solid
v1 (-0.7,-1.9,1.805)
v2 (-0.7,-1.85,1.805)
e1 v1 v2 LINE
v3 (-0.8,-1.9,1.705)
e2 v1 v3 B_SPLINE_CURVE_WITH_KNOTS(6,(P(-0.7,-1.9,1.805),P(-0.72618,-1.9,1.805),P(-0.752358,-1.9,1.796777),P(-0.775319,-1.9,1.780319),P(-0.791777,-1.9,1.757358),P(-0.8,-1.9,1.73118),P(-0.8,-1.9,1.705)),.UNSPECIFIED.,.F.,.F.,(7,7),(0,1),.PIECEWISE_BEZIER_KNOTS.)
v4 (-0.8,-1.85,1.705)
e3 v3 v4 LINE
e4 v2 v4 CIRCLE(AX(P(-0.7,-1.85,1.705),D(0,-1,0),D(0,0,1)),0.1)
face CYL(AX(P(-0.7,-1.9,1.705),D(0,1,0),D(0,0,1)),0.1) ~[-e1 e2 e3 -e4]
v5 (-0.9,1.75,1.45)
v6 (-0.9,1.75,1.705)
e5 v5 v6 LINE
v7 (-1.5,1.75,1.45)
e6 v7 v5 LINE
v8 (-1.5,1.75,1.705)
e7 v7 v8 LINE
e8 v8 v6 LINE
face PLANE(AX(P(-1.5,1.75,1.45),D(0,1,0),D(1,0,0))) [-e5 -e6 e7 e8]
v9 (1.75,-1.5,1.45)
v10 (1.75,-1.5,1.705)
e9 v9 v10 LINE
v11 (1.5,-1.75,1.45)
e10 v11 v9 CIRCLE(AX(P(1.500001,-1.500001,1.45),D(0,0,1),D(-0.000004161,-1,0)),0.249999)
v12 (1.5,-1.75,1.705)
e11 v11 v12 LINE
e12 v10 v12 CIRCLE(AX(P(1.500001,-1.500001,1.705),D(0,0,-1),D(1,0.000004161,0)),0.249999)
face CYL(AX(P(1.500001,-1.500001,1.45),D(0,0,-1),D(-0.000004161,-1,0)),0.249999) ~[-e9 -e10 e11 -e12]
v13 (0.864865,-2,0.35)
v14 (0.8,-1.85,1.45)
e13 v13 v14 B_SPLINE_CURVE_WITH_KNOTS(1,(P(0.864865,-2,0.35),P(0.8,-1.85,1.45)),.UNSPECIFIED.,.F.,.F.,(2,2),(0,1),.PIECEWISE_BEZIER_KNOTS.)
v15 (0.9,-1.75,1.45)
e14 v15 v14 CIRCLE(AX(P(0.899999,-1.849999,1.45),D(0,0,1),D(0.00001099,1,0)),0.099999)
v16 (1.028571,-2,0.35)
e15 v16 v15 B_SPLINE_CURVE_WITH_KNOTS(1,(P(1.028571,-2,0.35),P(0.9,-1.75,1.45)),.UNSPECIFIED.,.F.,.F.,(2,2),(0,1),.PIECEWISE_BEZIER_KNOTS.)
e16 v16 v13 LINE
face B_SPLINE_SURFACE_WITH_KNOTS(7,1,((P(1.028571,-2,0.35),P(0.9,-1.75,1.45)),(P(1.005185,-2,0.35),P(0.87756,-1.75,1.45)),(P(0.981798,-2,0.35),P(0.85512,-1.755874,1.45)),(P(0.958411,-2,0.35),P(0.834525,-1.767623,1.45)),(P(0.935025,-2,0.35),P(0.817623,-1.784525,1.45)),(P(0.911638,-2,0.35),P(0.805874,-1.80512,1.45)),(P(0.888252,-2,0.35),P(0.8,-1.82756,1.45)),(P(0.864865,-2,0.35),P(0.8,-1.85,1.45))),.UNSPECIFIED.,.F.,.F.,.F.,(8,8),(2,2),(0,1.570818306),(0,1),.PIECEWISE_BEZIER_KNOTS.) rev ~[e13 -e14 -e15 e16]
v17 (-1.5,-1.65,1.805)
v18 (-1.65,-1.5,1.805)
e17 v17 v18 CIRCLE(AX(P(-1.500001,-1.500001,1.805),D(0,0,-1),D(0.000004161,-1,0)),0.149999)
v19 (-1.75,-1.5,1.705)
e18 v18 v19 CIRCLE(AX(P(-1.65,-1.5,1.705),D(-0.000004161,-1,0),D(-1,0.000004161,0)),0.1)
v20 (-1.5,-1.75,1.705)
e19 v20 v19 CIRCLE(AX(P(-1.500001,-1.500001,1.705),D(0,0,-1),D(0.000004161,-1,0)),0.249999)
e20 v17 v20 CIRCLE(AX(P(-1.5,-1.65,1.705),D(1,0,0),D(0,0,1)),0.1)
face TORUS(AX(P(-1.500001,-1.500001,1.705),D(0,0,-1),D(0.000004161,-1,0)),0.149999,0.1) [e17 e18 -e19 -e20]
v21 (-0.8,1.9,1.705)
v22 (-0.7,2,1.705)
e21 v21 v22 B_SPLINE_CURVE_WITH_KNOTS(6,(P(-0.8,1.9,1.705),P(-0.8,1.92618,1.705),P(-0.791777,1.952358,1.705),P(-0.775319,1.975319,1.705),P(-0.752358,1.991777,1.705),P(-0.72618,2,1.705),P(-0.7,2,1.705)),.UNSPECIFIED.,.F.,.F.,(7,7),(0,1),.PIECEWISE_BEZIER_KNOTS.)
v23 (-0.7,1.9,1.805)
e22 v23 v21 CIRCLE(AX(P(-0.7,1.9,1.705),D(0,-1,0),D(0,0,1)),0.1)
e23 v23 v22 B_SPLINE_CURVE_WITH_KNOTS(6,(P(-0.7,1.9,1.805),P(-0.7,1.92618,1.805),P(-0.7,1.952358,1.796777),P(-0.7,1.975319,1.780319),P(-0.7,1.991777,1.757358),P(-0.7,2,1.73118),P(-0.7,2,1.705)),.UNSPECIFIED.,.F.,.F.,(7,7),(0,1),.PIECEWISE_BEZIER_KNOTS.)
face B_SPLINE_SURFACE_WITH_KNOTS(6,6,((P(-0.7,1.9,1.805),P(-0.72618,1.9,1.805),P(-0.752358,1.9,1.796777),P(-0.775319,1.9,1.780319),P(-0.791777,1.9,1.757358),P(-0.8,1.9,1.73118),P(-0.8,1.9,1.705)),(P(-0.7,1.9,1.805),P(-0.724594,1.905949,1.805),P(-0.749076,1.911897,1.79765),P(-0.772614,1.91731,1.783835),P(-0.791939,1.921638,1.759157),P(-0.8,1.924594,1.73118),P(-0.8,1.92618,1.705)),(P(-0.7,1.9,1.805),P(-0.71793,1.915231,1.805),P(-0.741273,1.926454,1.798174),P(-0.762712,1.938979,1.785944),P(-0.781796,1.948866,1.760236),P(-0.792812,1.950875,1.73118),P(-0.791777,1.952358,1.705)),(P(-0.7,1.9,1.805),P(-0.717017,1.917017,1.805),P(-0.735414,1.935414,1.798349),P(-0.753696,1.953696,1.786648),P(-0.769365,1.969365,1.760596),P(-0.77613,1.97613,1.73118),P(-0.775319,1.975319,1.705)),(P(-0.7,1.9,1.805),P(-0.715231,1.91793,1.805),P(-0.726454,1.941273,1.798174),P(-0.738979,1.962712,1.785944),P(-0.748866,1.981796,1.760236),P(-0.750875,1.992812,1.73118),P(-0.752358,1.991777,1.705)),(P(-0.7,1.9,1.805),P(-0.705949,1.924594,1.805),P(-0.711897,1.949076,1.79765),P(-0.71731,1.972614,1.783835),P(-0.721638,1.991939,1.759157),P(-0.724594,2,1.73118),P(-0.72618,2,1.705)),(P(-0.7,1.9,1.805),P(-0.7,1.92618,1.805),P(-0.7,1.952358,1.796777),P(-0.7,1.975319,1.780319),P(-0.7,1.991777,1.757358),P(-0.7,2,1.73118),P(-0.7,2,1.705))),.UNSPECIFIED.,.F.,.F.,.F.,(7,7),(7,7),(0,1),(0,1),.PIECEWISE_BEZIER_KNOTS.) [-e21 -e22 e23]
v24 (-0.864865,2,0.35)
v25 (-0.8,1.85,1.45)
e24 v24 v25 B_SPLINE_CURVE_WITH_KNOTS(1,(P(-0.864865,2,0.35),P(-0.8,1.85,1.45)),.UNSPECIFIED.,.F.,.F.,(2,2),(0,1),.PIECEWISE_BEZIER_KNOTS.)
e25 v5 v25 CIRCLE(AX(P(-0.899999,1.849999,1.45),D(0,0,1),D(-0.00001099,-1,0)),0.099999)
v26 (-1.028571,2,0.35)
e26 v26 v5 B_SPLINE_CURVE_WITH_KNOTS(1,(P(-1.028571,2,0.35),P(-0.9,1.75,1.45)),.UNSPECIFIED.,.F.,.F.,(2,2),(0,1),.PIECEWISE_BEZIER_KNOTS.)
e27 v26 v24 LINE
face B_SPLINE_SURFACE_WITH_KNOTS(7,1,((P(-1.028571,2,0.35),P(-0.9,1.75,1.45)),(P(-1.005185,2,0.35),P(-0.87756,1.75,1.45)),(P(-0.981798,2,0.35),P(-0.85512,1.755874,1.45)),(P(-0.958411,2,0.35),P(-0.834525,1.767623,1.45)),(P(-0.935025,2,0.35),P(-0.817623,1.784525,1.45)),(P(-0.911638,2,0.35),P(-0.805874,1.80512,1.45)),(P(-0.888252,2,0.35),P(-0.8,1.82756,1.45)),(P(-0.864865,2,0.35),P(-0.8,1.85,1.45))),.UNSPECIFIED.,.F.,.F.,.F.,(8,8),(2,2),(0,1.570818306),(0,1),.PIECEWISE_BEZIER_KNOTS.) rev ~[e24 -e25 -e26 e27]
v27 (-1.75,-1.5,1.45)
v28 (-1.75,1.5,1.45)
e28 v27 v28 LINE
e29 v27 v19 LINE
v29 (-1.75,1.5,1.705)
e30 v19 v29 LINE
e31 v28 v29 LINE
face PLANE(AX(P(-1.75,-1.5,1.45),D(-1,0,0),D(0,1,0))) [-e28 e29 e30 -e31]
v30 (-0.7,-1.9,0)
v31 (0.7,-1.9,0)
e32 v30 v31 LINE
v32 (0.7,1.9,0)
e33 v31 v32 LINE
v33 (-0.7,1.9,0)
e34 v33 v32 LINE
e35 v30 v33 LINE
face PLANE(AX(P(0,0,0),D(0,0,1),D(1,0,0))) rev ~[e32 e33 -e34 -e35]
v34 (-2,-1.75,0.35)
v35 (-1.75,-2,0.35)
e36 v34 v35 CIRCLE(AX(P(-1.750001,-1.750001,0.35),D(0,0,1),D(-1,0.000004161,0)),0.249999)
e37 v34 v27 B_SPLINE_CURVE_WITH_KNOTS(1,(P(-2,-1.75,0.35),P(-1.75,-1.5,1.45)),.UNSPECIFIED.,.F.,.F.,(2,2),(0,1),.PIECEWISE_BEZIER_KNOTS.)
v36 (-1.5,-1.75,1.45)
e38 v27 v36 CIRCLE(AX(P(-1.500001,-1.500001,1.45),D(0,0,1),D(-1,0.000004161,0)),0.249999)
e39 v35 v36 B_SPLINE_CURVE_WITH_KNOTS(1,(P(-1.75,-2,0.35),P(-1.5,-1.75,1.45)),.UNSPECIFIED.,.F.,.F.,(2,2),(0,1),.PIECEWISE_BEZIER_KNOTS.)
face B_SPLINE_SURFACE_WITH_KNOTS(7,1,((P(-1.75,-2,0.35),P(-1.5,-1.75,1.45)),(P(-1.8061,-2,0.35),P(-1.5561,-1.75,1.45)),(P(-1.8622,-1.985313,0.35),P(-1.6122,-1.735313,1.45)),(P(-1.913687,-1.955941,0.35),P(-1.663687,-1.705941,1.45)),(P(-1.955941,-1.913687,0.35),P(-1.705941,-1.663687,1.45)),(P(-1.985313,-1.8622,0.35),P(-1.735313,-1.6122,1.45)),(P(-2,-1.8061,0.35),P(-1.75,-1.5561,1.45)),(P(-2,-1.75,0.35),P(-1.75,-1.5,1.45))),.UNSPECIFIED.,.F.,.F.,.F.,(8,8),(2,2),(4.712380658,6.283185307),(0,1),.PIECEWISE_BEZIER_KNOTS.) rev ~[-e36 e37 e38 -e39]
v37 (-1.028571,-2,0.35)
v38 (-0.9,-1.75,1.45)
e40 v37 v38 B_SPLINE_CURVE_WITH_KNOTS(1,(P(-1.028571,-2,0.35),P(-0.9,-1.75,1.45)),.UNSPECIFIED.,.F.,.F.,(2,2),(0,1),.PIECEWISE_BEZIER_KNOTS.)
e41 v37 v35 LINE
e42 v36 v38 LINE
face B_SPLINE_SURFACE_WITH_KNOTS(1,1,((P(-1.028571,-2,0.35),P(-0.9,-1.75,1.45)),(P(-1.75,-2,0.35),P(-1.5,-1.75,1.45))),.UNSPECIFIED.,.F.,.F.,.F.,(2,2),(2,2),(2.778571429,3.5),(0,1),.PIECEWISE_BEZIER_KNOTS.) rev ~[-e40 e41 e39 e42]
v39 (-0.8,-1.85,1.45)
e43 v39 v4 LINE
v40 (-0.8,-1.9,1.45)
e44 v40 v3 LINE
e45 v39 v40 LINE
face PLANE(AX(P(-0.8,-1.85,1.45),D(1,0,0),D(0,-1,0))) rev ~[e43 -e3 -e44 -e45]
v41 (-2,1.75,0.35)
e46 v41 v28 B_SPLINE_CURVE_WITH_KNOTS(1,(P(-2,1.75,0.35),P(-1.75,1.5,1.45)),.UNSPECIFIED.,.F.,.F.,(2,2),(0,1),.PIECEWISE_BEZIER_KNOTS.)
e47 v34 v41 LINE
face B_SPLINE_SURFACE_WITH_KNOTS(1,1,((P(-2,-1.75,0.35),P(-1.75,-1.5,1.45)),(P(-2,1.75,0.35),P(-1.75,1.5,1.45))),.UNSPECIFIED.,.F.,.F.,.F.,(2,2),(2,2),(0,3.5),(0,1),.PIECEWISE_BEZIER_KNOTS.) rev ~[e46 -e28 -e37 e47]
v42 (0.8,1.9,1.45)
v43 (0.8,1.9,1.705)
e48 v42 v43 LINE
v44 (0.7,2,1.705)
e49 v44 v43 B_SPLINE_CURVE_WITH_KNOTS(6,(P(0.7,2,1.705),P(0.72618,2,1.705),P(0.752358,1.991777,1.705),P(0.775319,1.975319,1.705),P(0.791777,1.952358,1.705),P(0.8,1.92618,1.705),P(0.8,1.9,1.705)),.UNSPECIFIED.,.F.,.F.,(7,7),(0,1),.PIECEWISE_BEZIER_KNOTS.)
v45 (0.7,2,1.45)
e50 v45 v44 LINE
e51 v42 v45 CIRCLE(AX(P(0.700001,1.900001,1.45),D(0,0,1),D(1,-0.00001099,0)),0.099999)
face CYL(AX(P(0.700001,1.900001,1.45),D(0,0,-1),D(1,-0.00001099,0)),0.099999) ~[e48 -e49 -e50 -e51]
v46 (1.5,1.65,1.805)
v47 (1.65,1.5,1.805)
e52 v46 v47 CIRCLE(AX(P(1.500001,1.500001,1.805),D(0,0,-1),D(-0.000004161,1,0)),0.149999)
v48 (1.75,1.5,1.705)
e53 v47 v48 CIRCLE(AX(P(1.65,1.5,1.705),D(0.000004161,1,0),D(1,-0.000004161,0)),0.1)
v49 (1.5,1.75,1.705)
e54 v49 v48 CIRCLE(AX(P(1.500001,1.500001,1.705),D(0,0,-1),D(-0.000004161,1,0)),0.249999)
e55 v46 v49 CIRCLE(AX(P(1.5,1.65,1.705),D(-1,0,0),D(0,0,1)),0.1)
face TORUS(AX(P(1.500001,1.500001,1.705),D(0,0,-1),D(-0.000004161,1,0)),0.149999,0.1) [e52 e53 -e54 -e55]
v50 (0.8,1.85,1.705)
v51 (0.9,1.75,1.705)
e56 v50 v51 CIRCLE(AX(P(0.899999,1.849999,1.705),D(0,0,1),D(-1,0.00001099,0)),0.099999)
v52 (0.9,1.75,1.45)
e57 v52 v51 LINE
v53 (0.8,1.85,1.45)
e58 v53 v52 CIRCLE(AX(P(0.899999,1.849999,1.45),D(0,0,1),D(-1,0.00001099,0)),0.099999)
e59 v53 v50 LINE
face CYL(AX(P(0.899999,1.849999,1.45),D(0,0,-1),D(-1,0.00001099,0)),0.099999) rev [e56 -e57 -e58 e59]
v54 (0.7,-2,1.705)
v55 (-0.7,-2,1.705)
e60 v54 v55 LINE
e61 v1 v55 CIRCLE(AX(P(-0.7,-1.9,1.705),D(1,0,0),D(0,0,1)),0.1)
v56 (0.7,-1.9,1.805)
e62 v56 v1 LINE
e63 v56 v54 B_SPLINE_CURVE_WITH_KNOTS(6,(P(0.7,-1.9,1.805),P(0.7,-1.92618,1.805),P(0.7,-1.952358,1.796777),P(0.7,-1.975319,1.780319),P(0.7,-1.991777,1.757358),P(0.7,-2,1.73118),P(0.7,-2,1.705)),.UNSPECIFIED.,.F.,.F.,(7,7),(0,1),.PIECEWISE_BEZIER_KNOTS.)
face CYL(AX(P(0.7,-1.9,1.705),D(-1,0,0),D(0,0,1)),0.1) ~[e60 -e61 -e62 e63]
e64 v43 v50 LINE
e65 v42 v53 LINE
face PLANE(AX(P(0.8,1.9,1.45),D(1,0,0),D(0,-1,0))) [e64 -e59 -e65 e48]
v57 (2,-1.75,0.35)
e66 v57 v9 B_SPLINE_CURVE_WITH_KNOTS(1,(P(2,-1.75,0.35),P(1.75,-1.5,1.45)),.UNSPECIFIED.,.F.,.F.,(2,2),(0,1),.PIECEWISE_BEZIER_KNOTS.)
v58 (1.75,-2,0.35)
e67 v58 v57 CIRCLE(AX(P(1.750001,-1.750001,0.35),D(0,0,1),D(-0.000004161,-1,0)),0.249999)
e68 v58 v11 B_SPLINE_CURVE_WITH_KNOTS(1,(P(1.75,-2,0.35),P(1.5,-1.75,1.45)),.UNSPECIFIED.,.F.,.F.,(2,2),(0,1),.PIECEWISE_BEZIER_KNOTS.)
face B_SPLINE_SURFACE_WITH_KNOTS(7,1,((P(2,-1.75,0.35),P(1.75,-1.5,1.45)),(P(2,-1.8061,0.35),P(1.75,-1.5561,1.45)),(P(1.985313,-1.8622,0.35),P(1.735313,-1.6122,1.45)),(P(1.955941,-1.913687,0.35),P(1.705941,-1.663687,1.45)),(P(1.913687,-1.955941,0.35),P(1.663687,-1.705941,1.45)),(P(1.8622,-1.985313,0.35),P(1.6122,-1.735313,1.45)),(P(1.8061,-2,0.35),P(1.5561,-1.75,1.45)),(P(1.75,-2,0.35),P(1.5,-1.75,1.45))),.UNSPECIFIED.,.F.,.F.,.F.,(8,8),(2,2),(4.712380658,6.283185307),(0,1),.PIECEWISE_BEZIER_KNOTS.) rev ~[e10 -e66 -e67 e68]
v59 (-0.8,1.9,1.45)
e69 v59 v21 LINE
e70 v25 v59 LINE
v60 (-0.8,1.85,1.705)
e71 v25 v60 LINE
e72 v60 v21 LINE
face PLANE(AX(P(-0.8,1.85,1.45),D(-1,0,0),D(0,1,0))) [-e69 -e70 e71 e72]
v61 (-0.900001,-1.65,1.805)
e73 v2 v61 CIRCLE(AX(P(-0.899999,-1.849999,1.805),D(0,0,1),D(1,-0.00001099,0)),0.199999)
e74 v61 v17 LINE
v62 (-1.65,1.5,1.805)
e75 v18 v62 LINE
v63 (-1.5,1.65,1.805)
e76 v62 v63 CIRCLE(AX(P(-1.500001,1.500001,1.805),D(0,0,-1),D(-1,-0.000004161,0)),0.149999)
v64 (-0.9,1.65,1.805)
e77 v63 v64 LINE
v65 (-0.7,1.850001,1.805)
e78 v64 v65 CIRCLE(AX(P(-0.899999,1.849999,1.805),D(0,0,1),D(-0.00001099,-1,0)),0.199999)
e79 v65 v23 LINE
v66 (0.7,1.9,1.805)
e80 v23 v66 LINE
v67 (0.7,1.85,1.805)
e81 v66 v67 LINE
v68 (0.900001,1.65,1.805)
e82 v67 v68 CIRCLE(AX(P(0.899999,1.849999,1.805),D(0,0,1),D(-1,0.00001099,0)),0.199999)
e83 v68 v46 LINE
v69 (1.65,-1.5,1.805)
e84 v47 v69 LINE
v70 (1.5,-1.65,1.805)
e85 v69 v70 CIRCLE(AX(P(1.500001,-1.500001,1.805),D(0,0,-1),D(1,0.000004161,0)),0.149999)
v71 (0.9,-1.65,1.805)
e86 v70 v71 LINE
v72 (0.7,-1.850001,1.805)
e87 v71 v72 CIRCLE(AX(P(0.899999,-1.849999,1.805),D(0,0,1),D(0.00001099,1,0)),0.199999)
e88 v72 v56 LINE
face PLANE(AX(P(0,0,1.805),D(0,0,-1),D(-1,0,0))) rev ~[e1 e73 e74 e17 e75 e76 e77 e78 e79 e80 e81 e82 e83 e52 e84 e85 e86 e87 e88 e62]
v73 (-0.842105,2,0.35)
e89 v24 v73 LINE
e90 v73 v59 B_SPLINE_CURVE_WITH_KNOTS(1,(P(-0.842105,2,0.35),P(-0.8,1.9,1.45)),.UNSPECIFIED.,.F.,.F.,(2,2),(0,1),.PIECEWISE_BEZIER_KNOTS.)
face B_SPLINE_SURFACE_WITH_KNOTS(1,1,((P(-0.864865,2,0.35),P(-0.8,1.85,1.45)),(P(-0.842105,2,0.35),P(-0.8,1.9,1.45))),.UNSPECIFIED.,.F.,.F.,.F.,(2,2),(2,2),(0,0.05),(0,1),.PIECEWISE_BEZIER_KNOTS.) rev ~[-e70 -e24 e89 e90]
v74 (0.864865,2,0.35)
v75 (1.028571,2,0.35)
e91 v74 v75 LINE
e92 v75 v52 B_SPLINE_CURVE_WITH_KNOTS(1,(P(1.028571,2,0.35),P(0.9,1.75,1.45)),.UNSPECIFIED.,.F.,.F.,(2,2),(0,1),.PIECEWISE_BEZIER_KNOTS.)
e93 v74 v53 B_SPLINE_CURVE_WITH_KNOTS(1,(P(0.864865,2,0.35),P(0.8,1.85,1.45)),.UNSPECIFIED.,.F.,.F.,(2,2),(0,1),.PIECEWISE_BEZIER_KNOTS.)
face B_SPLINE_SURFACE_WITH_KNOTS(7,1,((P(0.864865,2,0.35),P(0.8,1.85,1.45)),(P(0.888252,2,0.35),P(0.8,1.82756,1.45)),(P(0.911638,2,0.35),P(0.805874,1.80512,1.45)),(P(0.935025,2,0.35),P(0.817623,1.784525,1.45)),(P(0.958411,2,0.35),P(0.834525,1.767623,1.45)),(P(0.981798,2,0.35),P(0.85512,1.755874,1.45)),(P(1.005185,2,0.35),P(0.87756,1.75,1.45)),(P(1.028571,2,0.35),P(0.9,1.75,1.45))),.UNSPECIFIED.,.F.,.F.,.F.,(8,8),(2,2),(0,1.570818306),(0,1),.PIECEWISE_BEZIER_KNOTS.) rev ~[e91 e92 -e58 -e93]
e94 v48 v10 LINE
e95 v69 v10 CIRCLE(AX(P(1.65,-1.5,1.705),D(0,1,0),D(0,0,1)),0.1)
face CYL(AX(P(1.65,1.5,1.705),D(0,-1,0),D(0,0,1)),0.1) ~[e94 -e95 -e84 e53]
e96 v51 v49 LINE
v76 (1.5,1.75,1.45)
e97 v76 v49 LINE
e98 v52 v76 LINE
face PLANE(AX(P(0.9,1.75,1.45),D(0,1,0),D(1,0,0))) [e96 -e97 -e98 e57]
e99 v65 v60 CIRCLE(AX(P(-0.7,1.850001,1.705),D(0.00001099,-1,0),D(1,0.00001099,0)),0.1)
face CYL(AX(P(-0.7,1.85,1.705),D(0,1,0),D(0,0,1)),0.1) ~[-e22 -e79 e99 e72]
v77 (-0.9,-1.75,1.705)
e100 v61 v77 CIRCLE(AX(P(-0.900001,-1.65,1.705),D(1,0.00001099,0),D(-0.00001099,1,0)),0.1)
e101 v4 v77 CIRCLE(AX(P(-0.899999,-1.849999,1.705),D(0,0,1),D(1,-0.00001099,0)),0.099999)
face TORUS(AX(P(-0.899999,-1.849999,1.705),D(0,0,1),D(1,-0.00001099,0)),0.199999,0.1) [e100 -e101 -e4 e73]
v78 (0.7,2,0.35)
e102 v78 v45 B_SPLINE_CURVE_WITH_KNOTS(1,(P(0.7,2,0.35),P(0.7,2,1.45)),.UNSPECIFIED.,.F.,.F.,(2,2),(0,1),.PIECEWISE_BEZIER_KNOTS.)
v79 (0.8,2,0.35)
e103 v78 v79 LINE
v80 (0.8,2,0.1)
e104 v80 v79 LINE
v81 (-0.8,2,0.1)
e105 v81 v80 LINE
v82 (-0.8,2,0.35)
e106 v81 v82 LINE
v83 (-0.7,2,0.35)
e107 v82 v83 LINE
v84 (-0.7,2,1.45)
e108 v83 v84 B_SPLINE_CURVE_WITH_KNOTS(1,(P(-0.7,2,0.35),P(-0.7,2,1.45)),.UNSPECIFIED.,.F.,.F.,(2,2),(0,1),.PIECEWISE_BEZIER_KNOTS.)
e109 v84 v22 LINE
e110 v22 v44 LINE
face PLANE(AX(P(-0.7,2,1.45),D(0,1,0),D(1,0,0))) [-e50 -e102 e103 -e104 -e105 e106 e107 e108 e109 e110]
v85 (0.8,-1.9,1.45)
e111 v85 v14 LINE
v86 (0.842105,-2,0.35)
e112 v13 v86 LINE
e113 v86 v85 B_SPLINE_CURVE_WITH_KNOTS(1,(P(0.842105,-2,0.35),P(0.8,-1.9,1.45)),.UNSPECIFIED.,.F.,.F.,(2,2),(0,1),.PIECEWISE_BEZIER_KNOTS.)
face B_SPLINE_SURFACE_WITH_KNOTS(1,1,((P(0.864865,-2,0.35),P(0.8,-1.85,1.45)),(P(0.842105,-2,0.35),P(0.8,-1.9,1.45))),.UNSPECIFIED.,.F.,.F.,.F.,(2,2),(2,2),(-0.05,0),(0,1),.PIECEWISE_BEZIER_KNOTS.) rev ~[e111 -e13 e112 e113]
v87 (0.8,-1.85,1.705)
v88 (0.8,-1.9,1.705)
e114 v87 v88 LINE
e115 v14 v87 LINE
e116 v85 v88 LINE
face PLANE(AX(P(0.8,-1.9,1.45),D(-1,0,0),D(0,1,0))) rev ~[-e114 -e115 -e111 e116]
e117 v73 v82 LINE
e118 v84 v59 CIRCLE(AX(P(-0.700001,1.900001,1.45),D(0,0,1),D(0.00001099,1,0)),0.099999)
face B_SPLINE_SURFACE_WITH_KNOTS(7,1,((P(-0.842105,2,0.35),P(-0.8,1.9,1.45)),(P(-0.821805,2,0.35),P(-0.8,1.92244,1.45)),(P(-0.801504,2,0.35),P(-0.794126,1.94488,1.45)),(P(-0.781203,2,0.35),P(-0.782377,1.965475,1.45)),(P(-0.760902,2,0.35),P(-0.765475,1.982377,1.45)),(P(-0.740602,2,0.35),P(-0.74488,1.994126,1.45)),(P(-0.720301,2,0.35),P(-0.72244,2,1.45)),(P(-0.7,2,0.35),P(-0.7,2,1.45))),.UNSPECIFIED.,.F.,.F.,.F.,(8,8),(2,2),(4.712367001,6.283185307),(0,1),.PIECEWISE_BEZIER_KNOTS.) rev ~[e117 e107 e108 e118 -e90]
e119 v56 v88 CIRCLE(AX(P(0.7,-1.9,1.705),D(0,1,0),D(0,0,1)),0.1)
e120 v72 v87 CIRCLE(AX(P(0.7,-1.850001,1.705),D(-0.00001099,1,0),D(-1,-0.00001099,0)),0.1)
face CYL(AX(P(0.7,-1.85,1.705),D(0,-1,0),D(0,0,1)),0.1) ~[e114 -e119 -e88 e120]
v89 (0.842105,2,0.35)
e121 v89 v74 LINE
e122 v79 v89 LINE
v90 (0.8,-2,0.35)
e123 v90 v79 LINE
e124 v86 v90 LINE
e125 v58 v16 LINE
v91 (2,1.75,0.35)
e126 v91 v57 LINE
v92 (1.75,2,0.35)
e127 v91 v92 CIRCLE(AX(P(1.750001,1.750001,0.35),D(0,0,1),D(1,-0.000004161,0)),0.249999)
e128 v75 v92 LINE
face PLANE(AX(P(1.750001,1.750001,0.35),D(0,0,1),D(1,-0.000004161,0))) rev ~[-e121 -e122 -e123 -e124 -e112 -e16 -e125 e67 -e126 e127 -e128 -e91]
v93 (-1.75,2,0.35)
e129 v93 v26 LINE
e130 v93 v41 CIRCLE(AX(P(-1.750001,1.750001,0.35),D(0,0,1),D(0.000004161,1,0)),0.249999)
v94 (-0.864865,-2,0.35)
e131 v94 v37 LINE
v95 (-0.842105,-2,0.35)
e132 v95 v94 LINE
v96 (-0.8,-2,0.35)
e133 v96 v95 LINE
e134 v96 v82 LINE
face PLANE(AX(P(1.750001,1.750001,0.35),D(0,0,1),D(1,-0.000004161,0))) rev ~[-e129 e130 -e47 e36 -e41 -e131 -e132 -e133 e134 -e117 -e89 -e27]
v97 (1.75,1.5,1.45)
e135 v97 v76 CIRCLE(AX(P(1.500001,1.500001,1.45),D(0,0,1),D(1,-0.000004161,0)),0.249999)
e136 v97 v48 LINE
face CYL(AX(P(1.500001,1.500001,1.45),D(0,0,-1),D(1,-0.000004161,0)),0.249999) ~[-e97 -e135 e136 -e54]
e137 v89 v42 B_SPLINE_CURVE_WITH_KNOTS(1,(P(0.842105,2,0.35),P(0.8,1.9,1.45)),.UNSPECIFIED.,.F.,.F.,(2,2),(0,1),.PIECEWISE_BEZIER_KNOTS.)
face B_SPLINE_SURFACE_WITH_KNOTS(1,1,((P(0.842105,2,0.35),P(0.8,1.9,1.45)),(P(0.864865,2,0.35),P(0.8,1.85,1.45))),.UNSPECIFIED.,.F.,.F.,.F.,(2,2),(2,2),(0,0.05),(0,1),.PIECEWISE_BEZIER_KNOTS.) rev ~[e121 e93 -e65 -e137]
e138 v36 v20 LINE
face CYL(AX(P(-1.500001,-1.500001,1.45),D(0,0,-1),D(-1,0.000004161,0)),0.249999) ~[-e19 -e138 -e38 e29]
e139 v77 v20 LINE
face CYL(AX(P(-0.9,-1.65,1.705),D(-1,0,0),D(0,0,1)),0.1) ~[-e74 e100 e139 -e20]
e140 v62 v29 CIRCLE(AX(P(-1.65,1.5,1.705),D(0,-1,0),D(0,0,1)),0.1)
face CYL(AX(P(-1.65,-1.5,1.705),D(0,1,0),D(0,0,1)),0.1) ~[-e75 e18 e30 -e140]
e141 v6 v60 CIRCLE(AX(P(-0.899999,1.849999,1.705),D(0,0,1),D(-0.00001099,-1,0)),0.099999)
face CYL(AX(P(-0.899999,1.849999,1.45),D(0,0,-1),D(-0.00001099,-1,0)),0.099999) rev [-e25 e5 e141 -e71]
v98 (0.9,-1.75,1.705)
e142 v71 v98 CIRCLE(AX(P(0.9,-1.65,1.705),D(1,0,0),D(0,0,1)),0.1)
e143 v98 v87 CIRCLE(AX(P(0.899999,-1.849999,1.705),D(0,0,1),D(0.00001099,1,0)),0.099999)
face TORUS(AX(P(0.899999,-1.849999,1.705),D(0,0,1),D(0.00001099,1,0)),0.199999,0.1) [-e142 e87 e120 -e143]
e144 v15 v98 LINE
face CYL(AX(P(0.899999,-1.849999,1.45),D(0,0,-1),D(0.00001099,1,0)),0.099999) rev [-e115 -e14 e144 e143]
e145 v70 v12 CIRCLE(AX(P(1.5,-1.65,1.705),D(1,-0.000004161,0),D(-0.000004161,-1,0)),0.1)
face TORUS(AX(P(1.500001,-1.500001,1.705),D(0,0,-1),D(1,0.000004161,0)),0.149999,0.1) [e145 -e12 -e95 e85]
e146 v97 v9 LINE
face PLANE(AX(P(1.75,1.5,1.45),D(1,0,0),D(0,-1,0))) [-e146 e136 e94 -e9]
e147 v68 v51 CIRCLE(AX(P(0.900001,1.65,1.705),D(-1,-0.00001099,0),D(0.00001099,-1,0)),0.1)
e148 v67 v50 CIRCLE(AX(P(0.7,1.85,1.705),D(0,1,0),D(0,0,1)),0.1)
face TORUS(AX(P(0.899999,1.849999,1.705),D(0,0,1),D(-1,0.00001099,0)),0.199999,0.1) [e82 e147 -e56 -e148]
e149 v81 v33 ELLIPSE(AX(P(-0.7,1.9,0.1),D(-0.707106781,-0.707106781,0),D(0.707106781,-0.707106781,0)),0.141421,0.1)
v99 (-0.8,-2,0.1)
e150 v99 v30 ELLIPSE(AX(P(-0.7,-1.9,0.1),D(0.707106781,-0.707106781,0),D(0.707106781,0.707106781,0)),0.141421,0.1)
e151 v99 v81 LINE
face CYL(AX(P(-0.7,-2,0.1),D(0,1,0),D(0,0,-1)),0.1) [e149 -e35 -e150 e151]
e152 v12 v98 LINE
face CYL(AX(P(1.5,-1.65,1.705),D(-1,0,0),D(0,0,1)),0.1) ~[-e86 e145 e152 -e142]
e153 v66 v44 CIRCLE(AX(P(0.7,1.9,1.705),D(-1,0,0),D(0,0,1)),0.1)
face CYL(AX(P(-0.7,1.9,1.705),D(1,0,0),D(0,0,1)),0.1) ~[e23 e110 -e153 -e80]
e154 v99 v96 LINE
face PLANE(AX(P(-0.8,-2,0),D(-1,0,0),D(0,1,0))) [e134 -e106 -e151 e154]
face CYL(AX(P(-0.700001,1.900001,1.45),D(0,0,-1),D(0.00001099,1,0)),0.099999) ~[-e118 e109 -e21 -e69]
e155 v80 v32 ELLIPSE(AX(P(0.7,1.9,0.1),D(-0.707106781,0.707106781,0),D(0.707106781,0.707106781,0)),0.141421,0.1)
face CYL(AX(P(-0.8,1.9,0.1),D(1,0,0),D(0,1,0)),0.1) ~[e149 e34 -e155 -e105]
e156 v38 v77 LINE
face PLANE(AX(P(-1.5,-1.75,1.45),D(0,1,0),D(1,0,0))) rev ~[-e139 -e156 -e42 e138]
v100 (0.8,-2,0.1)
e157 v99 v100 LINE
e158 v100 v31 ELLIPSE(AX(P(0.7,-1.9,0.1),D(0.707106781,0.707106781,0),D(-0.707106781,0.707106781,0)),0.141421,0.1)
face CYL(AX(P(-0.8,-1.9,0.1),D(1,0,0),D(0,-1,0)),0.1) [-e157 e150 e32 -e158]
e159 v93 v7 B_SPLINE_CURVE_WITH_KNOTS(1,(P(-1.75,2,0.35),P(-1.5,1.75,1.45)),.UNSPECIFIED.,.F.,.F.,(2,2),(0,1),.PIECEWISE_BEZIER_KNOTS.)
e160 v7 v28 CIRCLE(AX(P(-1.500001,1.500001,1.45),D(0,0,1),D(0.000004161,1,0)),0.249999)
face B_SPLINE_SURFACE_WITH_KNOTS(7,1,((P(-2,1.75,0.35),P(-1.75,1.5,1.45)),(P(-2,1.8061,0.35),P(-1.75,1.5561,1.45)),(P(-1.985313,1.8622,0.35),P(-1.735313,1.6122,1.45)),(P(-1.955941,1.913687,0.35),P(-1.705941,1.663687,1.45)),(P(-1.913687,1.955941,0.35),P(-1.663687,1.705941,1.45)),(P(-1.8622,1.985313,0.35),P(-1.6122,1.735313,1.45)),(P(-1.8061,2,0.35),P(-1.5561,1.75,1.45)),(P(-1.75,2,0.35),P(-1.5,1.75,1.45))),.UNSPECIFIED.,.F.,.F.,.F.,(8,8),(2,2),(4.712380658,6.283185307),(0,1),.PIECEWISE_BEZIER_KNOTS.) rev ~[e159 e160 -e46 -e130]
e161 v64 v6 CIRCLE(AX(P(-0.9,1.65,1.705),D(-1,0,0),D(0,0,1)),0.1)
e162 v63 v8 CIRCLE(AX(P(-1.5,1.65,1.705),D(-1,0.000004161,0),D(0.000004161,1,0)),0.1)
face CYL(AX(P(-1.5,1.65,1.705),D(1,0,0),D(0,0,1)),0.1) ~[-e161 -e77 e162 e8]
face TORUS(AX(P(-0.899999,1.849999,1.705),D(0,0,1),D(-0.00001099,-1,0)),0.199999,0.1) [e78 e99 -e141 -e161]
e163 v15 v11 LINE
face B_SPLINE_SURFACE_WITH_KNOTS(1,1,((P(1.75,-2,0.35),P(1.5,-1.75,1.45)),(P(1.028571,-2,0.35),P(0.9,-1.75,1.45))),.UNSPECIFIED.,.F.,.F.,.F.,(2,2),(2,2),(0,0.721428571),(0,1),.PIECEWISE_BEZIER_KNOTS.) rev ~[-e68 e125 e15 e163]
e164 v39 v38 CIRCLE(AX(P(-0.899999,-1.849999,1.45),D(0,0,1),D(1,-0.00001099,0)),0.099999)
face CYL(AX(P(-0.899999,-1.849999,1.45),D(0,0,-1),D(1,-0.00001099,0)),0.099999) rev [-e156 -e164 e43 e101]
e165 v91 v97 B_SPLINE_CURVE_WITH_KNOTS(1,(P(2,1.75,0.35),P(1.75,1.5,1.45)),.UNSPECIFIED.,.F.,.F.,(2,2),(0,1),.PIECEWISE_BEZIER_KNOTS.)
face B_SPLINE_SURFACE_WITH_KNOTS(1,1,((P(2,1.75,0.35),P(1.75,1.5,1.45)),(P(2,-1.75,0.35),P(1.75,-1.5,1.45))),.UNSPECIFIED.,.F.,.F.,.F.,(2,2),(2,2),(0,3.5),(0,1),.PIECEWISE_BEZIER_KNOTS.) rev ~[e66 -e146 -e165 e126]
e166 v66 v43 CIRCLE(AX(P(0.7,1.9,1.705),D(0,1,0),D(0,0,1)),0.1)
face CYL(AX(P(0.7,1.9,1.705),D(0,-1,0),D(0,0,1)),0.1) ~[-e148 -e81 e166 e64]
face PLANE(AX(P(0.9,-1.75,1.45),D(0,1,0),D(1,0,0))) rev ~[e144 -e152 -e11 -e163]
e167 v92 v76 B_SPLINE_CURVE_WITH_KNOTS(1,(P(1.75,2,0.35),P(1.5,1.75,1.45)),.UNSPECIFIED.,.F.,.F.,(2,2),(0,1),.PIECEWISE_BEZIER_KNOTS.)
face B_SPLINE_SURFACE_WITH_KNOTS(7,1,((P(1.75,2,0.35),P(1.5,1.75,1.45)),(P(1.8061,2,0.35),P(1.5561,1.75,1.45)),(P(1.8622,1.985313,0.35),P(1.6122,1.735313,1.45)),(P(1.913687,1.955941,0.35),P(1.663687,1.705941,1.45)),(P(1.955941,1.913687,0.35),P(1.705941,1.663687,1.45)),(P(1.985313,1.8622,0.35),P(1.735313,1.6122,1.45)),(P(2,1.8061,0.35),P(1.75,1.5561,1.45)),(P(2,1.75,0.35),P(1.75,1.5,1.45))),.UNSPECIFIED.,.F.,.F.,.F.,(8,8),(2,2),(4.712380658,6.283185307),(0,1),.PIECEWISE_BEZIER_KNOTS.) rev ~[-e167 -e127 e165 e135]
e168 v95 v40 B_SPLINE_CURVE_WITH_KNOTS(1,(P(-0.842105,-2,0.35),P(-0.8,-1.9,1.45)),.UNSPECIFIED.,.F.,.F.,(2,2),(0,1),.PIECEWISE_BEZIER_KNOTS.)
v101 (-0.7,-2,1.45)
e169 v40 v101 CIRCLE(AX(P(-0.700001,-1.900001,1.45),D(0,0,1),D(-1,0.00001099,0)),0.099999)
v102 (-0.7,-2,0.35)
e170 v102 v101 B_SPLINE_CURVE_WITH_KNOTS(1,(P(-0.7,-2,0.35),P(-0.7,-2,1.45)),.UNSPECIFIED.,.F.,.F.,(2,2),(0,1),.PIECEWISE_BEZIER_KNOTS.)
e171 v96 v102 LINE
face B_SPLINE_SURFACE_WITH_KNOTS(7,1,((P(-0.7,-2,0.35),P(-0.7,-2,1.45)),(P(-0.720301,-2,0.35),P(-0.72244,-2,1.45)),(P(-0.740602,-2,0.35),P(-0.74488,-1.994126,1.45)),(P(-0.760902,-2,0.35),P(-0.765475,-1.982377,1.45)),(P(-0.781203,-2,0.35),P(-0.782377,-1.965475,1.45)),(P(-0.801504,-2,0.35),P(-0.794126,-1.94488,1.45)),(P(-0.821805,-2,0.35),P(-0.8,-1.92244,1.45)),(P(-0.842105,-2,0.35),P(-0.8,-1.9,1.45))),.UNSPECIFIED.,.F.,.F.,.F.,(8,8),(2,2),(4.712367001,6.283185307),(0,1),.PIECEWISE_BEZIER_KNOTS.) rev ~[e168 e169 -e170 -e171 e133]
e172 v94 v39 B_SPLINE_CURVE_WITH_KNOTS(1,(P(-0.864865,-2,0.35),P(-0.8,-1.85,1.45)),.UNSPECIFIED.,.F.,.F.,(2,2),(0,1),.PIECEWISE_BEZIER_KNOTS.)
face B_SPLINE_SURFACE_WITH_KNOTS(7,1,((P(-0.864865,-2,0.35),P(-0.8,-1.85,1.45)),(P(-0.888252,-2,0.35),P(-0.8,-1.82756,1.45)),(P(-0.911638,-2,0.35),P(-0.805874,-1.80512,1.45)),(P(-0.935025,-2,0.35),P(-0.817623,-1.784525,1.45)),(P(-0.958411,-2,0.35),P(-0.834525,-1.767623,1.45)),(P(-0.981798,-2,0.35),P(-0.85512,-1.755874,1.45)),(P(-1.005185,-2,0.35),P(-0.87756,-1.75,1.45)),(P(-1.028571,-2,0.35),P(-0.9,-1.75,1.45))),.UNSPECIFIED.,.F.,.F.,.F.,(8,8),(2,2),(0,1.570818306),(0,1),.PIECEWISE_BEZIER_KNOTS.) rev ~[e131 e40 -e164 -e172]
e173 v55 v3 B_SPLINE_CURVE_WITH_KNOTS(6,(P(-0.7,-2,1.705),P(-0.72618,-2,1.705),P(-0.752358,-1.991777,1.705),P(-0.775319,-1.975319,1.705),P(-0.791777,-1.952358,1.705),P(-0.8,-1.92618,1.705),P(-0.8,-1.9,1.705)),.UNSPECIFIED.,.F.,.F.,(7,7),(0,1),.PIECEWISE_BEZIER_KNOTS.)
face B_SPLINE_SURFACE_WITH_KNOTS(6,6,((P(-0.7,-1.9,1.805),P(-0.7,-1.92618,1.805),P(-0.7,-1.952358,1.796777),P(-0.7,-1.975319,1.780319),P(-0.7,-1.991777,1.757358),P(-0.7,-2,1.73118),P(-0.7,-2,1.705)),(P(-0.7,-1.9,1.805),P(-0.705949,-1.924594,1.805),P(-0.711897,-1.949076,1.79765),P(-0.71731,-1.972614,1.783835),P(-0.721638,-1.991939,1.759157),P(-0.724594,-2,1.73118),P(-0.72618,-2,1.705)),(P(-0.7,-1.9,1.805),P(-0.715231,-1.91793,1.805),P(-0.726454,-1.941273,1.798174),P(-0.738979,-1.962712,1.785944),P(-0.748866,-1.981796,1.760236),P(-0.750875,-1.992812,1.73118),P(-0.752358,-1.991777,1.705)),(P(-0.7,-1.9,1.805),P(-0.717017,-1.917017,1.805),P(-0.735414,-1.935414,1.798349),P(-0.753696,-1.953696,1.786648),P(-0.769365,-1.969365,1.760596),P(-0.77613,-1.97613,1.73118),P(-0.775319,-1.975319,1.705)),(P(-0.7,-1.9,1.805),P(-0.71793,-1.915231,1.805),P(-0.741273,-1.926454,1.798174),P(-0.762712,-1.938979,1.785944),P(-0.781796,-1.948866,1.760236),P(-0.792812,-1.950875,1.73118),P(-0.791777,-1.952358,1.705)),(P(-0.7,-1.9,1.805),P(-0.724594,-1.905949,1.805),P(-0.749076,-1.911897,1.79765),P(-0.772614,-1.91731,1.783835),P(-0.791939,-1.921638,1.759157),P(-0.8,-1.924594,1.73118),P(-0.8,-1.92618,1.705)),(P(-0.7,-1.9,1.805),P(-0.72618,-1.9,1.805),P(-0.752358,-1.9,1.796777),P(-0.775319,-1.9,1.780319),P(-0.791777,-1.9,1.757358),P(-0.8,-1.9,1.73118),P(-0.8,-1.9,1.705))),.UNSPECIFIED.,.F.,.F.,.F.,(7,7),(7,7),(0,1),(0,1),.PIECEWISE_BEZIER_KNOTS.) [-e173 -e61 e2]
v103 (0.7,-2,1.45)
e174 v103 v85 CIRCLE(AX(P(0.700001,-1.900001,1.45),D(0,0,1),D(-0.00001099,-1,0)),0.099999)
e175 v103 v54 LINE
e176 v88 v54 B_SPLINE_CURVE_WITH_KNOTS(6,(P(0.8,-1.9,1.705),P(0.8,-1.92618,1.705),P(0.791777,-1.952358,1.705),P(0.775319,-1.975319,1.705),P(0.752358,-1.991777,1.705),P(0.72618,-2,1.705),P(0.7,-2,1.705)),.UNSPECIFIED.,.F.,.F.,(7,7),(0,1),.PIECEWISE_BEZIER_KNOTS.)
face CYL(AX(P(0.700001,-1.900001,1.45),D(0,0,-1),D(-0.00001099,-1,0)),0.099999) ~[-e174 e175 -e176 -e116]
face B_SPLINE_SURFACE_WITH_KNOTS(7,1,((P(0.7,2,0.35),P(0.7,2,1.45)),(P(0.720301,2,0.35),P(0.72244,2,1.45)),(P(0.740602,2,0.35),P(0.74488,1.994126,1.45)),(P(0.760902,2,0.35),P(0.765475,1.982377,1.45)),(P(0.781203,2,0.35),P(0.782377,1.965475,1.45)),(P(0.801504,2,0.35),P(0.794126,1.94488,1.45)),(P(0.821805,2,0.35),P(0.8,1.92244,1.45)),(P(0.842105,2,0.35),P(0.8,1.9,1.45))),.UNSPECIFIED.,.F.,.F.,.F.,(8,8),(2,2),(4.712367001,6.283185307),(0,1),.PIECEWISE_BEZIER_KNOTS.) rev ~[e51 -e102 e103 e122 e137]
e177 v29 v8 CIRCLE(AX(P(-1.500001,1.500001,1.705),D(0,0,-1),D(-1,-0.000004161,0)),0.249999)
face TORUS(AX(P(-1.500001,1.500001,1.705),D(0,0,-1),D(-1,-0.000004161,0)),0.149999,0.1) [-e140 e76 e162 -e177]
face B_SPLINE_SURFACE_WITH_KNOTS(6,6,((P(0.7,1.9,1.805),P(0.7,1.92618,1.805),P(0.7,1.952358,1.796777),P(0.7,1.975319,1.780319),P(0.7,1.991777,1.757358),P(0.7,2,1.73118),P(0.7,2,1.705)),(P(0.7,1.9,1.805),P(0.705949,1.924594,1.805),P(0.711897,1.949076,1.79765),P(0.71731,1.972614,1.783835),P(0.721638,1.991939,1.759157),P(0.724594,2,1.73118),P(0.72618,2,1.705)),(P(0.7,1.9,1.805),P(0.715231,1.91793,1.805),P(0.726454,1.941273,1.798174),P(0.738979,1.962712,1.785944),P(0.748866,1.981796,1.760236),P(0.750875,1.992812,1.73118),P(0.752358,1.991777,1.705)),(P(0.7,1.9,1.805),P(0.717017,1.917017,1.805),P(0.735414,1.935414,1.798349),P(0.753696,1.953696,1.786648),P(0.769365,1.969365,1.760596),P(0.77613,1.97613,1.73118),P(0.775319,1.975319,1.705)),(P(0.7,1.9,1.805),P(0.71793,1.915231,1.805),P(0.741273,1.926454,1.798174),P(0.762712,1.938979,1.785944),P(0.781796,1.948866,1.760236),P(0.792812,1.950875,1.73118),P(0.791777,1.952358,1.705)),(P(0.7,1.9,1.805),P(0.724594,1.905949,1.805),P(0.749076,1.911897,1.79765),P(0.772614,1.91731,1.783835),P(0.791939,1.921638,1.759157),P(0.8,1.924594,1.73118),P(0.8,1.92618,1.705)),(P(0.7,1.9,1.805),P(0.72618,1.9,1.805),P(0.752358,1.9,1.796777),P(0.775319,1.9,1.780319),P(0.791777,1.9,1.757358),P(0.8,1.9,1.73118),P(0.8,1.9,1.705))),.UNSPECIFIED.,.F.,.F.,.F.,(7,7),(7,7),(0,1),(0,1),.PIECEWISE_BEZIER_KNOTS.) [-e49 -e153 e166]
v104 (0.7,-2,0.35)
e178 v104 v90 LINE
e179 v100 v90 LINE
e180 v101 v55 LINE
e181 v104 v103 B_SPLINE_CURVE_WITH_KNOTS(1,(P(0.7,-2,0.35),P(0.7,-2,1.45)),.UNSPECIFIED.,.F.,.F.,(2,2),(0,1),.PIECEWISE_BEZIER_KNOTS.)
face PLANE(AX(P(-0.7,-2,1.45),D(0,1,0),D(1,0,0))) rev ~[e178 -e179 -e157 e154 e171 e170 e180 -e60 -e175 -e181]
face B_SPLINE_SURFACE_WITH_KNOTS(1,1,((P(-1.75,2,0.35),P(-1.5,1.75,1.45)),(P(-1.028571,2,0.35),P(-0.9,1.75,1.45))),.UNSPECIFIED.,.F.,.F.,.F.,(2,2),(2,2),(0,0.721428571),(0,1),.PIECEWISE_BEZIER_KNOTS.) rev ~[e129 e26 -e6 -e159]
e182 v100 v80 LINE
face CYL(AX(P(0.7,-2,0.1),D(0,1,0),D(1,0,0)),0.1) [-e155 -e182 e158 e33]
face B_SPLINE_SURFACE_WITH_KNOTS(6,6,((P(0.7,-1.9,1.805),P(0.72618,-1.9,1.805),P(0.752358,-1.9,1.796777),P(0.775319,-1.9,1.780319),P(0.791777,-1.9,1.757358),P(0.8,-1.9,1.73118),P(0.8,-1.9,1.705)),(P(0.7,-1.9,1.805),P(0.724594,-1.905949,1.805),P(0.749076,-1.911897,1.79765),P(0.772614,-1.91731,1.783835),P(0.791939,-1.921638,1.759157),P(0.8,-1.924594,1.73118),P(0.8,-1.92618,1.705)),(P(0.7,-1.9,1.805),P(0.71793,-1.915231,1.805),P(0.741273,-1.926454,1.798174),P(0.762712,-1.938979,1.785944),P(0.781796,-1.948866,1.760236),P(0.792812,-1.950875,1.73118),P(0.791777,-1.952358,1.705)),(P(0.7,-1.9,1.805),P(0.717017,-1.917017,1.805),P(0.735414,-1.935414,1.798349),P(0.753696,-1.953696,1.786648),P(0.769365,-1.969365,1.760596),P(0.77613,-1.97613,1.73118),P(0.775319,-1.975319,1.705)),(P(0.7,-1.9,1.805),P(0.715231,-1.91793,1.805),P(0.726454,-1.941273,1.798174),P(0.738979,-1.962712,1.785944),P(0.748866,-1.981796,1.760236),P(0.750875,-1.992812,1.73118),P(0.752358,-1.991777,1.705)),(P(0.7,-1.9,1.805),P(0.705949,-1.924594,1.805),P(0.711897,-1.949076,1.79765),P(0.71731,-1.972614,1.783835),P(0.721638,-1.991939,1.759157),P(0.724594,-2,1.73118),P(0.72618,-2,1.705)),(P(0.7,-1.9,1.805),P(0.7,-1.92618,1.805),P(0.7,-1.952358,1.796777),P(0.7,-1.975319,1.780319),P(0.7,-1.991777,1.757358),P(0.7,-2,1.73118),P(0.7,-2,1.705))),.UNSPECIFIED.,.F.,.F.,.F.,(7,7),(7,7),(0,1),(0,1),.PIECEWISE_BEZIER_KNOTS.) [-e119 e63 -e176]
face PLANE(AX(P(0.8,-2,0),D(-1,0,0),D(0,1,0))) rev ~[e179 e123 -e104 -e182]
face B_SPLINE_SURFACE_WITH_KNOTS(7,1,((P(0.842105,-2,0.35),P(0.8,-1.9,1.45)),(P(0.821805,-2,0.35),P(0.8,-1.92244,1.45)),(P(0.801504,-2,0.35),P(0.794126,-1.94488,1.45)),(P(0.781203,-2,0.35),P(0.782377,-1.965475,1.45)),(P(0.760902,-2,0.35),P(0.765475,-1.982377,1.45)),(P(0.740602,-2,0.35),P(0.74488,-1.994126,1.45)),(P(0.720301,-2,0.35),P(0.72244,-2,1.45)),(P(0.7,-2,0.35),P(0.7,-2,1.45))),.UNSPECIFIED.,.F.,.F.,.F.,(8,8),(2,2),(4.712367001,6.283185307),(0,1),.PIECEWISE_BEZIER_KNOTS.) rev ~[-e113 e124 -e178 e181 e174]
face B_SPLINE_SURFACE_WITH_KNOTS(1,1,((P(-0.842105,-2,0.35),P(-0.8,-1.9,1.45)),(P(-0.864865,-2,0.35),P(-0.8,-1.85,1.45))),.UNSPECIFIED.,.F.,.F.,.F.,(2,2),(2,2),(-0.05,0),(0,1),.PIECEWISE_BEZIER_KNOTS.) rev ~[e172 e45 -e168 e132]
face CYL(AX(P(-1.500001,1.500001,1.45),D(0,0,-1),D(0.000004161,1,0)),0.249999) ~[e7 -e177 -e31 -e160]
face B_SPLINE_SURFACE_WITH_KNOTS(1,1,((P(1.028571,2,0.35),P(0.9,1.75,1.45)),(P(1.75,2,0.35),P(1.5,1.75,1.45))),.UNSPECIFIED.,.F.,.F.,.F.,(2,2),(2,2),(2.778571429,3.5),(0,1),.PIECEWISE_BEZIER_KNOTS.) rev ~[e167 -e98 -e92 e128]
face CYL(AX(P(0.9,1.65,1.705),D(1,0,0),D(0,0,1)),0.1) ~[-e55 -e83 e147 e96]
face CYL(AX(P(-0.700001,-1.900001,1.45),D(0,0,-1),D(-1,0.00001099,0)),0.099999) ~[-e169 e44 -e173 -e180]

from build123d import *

# Parameters (mm, degrees)
SKETCH003_W  = 1.6
SKETCH003_H  = 4
PAD002_DEPTH = 0.35
PAD003_DEPTH = 0.355
FILLET002_R  = 0.1
FILLET003_R  = 0.1


with BuildPart() as part:
    # Sketch003 → Pad002 (new body)
    with BuildSketch(Plane.XY):
        Rectangle(SKETCH003_W, SKETCH003_H)
    extrude(amount=PAD002_DEPTH)

    # Sketch004 (on Face6 of Pad002) → AdditiveLoft section 0
    with BuildSketch(Plane.XY.offset(0.35)):
        with BuildLine():
            Line((-1.75, 2), (1.75, 2))
            ThreePointArc((2, 1.75), (1.926777, 1.926777), (1.75, 2))
            Line((2, 1.75), (2, -1.75))
            ThreePointArc((1.75, -2), (1.926777, -1.926777), (2, -1.75))
            Line((1.75, -2), (-1.75, -2))
            ThreePointArc((-2, -1.75), (-1.926777, -1.926777), (-1.75, -2))
            Line((-2, -1.75), (-2, 1.75))
            ThreePointArc((-1.75, 2), (-1.926777, 1.926777), (-2, 1.75))
        make_face()
    # Sketch005 (on Face6 of Pad002) → AdditiveLoft section 1
    with BuildSketch(Plane.XY.offset(1.45)):
        with BuildLine():
            Line((1.75, 1.5), (1.75, -1.5))
            ThreePointArc((1.5, -1.75), (1.676777, -1.676777), (1.75, -1.5))
            Line((0.9, -1.75), (1.5, -1.75))
            ThreePointArc((0.9, -1.75), (0.829289, -1.779289), (0.8, -1.85))
            Line((0.8, -1.9), (0.8, -1.85))
            ThreePointArc((0.7, -2), (0.770711, -1.970711), (0.8, -1.9))
            Line((-0.7, -2), (0.7, -2))
            ThreePointArc((-0.8, -1.9), (-0.770711, -1.970711), (-0.7, -2))
            Line((-0.8, -1.85), (-0.8, -1.9))
            ThreePointArc((-0.8, -1.85), (-0.829289, -1.779289), (-0.9, -1.75))
            Line((-1.5, -1.75), (-0.9, -1.75))
            ThreePointArc((-1.75, -1.5), (-1.676777, -1.676777), (-1.5, -1.75))
            Line((-1.75, -1.5), (-1.75, 1.5))
            ThreePointArc((-1.5, 1.75), (-1.676777, 1.676777), (-1.75, 1.5))
            Line((-1.5, 1.75), (-0.9, 1.75))
            ThreePointArc((-0.9, 1.75), (-0.829289, 1.779289), (-0.8, 1.85))
            Line((-0.8, 1.85), (-0.8, 1.9))
            ThreePointArc((-0.7, 2), (-0.770711, 1.970711), (-0.8, 1.9))
            Line((-0.7, 2), (0.7, 2))
            ThreePointArc((0.8, 1.9), (0.770711, 1.970711), (0.7, 2))
            Line((0.8, 1.9), (0.8, 1.85))
            ThreePointArc((0.8, 1.85), (0.829289, 1.779289), (0.9, 1.75))
            Line((0.9, 1.75), (1.5, 1.75))
            ThreePointArc((1.75, 1.5), (1.676777, 1.676777), (1.5, 1.75))
        make_face()
    loft()

    # Sketch005 (on Face6 of Pad002) → Pad003 (join)
    with BuildSketch(Plane.XY.offset(1.45)):
        with BuildLine():
            Line((1.75, 1.5), (1.75, -1.5))
            ThreePointArc((1.5, -1.75), (1.676777, -1.676777), (1.75, -1.5))
            Line((0.9, -1.75), (1.5, -1.75))
            ThreePointArc((0.9, -1.75), (0.829289, -1.779289), (0.8, -1.85))
            Line((0.8, -1.9), (0.8, -1.85))
            ThreePointArc((0.7, -2), (0.770711, -1.970711), (0.8, -1.9))
            Line((-0.7, -2), (0.7, -2))
            ThreePointArc((-0.8, -1.9), (-0.770711, -1.970711), (-0.7, -2))
            Line((-0.8, -1.85), (-0.8, -1.9))
            ThreePointArc((-0.8, -1.85), (-0.829289, -1.779289), (-0.9, -1.75))
            Line((-1.5, -1.75), (-0.9, -1.75))
            ThreePointArc((-1.75, -1.5), (-1.676777, -1.676777), (-1.5, -1.75))
            Line((-1.75, -1.5), (-1.75, 1.5))
            ThreePointArc((-1.5, 1.75), (-1.676777, 1.676777), (-1.75, 1.5))
            Line((-1.5, 1.75), (-0.9, 1.75))
            ThreePointArc((-0.9, 1.75), (-0.829289, 1.779289), (-0.8, 1.85))
            Line((-0.8, 1.85), (-0.8, 1.9))
            ThreePointArc((-0.7, 2), (-0.770711, 1.970711), (-0.8, 1.9))
            Line((-0.7, 2), (0.7, 2))
            ThreePointArc((0.8, 1.9), (0.770711, 1.970711), (0.7, 2))
            Line((0.8, 1.9), (0.8, 1.85))
            ThreePointArc((0.8, 1.85), (0.829289, 1.779289), (0.9, 1.75))
            Line((0.9, 1.75), (1.5, 1.75))
            ThreePointArc((1.75, 1.5), (1.676777, 1.676777), (1.5, 1.75))
        make_face()
    extrude(amount=PAD003_DEPTH)

    # Fillet002
    fillet002_edges = [part.edges().sort_by_distance(p)[0] for p in [
        (0, 2, 0),
        (0.8, 0, 0),
        (0, -2, 0),
        (-0.8, 0, 0),
    ]]
    fillet(fillet002_edges, radius=FILLET002_R)

    # Fillet003
    fillet003_edges = [part.edges().sort_by_distance(p)[0] for p in [
        (0.8, 1.875, 1.805),
        (0.829289, 1.779289, 1.805),
        (1.2, 1.75, 1.805),
        (1.676777, 1.676777, 1.805),
        (1.75, 0, 1.805),
        (1.676777, -1.676777, 1.805),
        (1.2, -1.75, 1.805),
        (0.829289, -1.779289, 1.805),
        (0.8, -1.875, 1.805),
        (0.770711, -1.970711, 1.805),
        (0, -2, 1.805),
        (-0.770711, -1.970711, 1.805),
        (-0.8, -1.875, 1.805),
        (-0.829289, -1.779289, 1.805),
        (-1.2, -1.75, 1.805),
        (-1.676777, -1.676777, 1.805),
        (-1.75, 0, 1.805),
        (-1.676777, 1.676777, 1.805),
        (-1.2, 1.75, 1.805),
        (-0.829289, 1.779289, 1.805),
        (-0.8, 1.875, 1.805),
        (-0.770711, 1.970711, 1.805),
        (0, 2, 1.805),
        (0.770711, 1.970711, 1.805),
    ]]
    fillet(fillet003_edges, radius=FILLET003_R)


solid = part.part
